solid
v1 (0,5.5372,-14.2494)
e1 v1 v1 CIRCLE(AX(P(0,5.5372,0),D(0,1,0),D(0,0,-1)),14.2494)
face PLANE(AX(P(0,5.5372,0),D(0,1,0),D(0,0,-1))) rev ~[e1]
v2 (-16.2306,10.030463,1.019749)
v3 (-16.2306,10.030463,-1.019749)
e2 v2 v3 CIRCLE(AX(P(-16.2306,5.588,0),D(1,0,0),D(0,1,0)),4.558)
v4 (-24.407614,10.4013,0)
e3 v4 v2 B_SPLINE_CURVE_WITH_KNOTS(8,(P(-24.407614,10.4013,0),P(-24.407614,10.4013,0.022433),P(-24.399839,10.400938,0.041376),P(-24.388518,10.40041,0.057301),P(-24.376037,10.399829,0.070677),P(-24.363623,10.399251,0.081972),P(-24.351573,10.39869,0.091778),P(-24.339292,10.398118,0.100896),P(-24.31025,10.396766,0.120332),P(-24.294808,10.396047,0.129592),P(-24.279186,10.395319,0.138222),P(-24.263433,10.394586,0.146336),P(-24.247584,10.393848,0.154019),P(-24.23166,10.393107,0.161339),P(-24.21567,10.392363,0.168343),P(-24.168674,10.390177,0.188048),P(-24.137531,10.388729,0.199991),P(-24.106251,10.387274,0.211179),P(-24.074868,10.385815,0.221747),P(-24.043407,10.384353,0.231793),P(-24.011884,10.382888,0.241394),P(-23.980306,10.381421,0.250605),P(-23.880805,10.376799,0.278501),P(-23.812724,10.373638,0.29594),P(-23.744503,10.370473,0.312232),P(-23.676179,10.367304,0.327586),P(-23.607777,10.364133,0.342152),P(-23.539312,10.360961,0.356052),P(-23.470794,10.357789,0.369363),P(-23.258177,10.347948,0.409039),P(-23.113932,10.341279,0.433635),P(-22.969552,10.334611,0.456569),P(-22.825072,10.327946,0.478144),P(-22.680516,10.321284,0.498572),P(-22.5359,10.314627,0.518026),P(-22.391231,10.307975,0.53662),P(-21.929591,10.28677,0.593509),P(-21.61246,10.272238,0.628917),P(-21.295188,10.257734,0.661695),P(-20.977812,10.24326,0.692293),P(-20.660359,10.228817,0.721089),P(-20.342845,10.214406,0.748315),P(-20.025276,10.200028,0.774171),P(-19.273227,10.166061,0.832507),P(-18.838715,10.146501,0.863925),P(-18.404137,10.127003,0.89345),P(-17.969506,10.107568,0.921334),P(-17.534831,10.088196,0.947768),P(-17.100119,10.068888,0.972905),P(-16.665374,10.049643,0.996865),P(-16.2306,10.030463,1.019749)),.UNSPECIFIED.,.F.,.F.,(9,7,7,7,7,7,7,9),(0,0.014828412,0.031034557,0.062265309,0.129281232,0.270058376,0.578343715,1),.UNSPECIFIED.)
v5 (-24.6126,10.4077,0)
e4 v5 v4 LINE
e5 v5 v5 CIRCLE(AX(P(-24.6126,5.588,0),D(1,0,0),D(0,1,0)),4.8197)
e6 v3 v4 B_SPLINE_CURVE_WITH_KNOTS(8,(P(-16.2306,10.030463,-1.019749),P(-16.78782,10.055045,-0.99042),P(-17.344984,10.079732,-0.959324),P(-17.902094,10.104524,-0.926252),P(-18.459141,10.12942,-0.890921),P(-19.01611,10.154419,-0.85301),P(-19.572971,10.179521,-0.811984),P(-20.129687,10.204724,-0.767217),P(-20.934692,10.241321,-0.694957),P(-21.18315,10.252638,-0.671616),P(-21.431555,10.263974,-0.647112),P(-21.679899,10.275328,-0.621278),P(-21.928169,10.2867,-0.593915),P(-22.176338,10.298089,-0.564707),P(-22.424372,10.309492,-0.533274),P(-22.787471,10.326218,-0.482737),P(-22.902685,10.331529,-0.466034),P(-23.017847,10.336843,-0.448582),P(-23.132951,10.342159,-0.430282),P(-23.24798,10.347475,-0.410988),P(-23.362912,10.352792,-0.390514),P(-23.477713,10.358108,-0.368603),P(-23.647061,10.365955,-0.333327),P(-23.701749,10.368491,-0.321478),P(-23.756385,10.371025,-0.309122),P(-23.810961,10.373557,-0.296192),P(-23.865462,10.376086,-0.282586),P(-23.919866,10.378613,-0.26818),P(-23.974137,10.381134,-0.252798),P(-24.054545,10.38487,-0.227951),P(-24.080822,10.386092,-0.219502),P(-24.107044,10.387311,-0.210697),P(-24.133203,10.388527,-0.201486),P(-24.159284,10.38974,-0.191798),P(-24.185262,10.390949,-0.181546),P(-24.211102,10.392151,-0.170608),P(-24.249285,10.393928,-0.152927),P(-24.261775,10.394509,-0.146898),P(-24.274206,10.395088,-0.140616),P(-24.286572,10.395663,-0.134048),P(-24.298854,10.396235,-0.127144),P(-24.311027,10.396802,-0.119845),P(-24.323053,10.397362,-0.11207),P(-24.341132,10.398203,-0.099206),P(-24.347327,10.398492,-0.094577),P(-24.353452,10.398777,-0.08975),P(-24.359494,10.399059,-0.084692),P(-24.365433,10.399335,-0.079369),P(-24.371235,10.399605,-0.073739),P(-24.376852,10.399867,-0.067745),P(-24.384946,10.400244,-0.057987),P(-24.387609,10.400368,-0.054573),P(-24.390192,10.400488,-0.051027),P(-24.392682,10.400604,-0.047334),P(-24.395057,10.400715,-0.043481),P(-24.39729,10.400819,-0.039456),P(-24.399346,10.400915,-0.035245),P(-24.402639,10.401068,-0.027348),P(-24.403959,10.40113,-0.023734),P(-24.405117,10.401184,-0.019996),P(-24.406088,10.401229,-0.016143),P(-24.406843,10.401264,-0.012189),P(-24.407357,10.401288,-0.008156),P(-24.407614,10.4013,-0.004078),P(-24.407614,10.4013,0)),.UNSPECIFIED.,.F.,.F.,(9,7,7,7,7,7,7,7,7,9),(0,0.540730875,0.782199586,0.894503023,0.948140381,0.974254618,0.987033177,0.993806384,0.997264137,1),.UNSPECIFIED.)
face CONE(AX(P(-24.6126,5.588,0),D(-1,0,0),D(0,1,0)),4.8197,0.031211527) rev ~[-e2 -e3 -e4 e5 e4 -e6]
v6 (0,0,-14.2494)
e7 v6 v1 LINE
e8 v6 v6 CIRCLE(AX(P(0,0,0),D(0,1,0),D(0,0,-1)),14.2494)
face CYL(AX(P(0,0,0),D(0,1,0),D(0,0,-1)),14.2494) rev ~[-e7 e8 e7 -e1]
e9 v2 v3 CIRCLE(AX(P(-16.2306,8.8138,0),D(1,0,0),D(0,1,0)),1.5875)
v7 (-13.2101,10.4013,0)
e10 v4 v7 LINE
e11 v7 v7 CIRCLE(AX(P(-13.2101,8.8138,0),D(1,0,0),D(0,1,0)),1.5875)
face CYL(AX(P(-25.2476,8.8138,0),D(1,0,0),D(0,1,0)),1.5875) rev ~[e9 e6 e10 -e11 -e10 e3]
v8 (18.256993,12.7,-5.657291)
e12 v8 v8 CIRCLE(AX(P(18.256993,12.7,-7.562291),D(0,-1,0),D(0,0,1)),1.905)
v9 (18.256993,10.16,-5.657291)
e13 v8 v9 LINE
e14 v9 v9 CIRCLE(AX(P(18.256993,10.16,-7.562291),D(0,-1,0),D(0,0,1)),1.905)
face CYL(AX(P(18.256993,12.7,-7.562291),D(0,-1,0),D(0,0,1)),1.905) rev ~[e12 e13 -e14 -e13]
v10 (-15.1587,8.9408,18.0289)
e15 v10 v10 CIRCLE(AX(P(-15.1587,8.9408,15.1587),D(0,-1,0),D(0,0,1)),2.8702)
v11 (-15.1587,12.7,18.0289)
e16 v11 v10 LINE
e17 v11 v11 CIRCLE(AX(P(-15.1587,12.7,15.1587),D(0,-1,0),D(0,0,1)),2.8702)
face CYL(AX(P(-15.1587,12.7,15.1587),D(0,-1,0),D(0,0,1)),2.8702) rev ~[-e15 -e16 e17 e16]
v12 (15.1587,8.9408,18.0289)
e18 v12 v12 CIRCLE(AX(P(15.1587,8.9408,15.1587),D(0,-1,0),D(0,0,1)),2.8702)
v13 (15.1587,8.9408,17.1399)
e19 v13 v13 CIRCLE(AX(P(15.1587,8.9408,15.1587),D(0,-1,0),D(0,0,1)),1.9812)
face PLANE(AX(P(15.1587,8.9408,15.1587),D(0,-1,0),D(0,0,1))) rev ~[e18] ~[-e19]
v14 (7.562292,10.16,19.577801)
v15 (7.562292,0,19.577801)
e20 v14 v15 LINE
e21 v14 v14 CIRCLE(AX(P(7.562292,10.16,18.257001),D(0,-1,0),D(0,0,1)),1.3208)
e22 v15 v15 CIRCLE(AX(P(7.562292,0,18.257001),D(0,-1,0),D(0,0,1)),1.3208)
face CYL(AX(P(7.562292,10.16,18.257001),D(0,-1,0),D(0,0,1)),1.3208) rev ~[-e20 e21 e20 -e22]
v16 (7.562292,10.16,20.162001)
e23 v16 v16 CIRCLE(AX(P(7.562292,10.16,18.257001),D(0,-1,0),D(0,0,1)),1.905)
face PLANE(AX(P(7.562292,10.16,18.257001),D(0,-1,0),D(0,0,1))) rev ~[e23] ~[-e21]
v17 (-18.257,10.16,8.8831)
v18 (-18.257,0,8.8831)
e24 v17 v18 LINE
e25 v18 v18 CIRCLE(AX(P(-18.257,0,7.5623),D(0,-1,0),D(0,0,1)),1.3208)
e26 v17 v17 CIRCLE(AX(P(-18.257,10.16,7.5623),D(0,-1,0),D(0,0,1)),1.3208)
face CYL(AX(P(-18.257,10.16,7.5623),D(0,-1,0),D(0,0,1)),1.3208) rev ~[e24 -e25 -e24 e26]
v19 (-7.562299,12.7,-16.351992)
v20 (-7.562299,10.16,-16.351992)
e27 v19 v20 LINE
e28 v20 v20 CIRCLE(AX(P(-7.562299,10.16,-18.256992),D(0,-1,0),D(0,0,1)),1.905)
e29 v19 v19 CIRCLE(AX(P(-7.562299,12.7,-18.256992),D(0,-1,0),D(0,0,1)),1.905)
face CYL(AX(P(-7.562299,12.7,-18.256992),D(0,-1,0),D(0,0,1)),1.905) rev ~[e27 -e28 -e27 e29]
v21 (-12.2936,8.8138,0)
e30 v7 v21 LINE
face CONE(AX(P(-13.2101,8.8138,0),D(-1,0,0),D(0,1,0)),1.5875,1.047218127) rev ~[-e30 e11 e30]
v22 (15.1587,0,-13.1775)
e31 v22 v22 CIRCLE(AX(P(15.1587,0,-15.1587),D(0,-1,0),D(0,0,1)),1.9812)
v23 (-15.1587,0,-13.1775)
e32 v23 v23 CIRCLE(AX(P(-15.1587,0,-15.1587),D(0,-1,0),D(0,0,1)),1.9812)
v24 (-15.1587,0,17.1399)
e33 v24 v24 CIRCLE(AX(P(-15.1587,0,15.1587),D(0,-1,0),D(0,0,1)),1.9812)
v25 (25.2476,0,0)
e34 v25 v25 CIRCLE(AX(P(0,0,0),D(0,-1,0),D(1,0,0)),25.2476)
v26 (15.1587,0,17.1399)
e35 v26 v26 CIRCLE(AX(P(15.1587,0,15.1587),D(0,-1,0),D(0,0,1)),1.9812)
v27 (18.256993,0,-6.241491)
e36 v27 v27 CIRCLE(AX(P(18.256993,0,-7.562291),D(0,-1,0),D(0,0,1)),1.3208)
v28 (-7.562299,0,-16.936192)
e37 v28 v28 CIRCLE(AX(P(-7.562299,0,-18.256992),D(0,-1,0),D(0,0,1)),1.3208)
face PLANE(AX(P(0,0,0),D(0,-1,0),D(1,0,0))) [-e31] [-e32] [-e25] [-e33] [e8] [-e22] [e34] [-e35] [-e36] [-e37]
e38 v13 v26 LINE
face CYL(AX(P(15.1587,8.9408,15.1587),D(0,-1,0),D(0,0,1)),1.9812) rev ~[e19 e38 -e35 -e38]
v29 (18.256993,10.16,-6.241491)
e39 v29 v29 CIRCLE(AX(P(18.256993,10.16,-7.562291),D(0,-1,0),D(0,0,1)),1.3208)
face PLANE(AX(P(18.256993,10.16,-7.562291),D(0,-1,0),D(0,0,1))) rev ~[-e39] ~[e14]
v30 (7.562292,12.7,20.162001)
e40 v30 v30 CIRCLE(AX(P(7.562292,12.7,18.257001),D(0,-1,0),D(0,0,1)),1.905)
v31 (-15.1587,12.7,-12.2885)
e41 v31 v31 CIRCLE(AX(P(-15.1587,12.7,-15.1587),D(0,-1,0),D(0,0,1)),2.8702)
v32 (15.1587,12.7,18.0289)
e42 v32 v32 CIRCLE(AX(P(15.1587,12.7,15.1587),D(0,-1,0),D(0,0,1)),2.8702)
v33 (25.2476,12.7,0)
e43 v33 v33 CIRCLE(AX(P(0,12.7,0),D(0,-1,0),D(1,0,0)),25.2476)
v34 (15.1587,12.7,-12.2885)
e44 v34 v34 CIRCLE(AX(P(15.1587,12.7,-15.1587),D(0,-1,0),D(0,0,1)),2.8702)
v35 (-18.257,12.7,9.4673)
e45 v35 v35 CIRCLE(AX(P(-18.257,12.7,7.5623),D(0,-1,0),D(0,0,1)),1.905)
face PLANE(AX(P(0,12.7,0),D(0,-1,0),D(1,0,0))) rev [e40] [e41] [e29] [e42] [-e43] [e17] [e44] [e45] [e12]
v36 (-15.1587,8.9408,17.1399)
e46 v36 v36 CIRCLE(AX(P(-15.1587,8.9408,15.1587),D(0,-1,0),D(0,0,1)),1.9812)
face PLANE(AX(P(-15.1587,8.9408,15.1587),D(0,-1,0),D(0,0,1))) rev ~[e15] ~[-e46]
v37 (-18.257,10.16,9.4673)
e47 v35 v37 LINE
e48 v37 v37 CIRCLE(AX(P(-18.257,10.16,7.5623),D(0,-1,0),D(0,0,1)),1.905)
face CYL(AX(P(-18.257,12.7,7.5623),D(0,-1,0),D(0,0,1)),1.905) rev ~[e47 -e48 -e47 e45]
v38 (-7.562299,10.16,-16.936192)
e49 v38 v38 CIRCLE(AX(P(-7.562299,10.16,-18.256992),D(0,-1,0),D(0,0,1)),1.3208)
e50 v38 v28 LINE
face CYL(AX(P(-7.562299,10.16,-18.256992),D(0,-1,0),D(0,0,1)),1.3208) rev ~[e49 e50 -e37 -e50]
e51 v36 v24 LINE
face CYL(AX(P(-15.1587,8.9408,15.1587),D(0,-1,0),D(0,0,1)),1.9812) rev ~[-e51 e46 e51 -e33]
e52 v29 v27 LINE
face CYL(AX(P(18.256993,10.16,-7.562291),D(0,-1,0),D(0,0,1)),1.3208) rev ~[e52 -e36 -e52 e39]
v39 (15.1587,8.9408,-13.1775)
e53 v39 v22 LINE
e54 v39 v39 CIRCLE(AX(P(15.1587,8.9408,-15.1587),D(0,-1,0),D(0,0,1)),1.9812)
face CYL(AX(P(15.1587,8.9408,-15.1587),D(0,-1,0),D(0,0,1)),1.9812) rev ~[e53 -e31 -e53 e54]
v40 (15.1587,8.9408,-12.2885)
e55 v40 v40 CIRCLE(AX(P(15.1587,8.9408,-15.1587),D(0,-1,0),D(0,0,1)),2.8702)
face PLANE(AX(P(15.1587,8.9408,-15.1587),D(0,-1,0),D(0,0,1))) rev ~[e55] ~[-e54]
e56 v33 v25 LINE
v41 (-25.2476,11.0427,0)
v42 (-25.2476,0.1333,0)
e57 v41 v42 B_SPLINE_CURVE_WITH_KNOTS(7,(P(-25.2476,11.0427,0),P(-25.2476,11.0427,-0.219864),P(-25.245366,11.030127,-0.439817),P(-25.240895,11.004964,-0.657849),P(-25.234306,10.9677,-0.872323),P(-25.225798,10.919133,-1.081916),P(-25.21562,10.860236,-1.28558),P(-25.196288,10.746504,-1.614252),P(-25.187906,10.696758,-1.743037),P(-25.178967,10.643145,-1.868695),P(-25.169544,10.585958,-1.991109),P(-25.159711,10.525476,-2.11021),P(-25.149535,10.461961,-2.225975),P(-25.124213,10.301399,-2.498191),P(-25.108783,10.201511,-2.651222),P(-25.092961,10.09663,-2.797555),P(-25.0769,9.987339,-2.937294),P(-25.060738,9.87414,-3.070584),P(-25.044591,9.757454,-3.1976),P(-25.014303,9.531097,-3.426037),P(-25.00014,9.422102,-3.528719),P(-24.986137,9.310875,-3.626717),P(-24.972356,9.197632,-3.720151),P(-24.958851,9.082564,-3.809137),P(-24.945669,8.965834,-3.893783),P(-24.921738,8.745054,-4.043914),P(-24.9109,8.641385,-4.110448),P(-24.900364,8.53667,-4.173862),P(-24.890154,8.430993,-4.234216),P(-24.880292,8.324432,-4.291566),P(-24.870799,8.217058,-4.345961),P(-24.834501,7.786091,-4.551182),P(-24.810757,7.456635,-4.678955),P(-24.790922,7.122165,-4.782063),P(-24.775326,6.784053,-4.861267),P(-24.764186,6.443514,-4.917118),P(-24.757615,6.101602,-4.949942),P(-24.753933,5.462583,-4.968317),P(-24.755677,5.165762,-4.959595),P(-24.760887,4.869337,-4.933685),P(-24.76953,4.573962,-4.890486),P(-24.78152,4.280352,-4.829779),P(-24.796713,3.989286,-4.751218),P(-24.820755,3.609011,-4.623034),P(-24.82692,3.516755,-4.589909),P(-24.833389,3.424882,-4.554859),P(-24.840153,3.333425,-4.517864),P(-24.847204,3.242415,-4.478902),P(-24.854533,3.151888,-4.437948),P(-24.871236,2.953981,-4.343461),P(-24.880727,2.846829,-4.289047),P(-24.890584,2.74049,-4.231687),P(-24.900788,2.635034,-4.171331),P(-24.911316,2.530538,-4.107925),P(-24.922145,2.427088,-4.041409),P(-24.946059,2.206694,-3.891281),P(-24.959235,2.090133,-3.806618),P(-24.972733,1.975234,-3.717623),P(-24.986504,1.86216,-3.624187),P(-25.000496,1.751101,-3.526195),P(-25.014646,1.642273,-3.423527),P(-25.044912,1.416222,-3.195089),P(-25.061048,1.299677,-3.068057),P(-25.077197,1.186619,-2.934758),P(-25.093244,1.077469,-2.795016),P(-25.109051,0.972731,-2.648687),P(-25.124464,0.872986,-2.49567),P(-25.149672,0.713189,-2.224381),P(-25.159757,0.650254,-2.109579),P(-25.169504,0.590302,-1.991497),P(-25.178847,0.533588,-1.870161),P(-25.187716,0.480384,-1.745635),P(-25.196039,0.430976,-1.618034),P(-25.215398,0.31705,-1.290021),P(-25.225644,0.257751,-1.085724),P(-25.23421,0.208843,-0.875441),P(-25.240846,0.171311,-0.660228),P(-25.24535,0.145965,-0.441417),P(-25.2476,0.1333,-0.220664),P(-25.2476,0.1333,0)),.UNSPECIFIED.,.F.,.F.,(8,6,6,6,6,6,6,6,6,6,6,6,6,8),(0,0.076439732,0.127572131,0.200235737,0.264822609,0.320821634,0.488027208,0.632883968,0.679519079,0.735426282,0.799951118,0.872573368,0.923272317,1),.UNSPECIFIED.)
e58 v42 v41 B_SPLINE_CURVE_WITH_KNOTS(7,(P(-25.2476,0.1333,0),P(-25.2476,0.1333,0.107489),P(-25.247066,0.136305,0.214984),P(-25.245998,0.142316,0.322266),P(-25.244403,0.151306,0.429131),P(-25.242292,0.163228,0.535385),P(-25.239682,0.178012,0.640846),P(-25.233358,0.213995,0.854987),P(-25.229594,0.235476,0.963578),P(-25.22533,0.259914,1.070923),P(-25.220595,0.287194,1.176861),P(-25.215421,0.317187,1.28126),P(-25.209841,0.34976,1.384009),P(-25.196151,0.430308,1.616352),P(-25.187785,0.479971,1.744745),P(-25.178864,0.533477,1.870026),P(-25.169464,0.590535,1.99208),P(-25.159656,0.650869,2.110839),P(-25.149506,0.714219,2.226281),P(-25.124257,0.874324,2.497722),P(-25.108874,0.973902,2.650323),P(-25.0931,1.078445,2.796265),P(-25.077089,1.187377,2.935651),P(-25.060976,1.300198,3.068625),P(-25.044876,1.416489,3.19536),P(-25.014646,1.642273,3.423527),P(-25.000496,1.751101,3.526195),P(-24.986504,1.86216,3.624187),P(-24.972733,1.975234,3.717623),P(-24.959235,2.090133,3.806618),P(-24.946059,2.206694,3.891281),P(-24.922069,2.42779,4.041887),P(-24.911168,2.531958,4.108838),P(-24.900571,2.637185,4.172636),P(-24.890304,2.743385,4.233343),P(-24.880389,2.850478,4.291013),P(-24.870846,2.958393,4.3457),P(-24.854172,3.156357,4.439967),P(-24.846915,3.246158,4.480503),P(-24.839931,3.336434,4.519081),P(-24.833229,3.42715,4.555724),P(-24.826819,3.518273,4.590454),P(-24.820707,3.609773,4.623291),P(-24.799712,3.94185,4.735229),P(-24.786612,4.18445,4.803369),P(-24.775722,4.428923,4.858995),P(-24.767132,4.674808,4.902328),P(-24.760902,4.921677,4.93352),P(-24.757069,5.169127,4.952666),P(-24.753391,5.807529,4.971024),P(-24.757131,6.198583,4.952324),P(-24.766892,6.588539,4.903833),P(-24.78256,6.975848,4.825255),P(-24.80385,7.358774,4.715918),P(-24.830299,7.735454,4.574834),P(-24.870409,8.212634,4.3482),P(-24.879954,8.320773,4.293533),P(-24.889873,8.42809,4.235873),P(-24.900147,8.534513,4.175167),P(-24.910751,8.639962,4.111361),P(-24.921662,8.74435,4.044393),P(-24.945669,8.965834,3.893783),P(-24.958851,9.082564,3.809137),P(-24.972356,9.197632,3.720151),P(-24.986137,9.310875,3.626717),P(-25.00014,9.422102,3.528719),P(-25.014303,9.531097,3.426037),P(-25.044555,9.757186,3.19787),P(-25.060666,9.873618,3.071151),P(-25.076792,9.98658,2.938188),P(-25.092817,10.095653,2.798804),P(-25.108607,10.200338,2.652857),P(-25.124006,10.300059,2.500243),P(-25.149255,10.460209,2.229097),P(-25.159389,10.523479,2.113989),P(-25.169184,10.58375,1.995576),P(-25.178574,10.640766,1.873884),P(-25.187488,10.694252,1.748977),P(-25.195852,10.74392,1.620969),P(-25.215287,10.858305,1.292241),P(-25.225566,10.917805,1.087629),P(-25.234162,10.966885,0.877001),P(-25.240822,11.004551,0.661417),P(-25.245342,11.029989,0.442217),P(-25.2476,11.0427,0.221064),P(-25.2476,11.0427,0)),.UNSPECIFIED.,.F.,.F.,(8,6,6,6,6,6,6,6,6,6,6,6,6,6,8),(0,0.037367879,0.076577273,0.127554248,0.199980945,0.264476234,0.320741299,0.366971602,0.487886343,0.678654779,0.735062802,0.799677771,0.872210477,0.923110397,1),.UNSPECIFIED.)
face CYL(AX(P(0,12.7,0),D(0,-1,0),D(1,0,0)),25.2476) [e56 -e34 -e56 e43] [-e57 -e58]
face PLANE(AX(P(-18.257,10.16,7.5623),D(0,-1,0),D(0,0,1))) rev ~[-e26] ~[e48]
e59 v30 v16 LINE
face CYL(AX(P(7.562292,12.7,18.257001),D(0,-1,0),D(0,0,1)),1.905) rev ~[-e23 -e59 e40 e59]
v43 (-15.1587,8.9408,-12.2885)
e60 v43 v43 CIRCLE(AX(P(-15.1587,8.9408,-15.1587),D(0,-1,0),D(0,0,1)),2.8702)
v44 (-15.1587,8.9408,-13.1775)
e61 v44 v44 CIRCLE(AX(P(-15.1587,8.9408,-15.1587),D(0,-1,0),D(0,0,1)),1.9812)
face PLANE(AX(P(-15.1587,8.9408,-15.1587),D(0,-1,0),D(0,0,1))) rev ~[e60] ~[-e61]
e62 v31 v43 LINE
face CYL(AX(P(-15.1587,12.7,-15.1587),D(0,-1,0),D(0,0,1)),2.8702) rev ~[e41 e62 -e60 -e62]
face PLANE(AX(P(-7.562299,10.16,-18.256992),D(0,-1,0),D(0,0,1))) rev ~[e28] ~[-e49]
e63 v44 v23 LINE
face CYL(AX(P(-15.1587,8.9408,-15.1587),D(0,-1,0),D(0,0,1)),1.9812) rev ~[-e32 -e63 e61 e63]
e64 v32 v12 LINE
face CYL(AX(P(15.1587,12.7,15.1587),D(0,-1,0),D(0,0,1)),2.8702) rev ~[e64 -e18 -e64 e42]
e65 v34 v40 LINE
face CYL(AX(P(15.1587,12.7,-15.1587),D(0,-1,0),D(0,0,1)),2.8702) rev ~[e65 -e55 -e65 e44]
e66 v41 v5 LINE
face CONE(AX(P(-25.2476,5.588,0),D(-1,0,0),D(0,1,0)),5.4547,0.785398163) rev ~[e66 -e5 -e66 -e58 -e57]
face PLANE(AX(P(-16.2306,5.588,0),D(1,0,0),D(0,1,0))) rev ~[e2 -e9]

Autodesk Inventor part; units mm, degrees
sketch "Sketch_1" plane through (0, 0, 0) normal (0, 0, 1) x (1, 0, 0)
  line L0 (0, 0) -> (0, 12.7)
  line L1 (0, 12.7) -> (25.2476, 12.7)
  line L2 (25.2476, 12.7) -> (25.2476, 0)
  line L3 (25.2476, 0) -> (0, 0)
  line L4 (0, 0) -> (0, 12.7)
revolve "Revolution1" add sketch "Sketch_1" angle 360 about axis through (0, 0, 0) along (0, -1, 0)
sketch "Sketch_84" plane through (0, 0, 0) normal (0, 0, 1) x (1, 0, 0)
  line L0 (-16.2306, 5.588) -> (-25.2476, 5.588)
  line L1 (-25.2476, 5.588) -> (-25.2476, 11.0427)
  line L2 (-25.2476, 11.0427) -> (-24.6126, 10.4077)
  line L3 (-24.6126, 10.4077) -> (-16.2306, 10.146)
  line L4 (-16.2306, 10.146) -> (-16.2306, 5.588)
  line L5 (-16.2306, 5.588) -> (-25.2476, 5.588)
revolve "Revolution2" cut sketch "Sketch_84" angle 360 about axis through (-16.2306, 5.588, 0) along (1, 0, 0)
thread "Thread1" size "1/8" designation "1/8 - 27 NPT" standard "NPT" full length
sketch "Sketch_85" plane through (0, 0, 0) normal (0, 0, 1) x (1, 0, 0)
  line L0 (-12.2936, 8.8138) -> (-25.2476, 8.8138)
  line L1 (-25.2476, 8.8138) -> (-25.2476, 10.4013)
  line L2 (-25.2476, 10.4013) -> (-13.2101, 10.4013)
  line L3 (-13.2101, 10.4013) -> (-12.2936, 8.8138)
  line L4 (-12.2936, 8.8138) -> (-25.2476, 8.8138)
revolve "Revolution3" cut sketch "Sketch_85" angle 360 about axis through (-12.2936, 8.8138, 0) along (1, 0, 0)
sketch "Sketch4" plane through (0, 12.7, 0) normal (0, 1, 0) x (1, 0, 0)
  point P0 (-15.1587, -15.1587)
hole "Hole1" at (-15.1587, 12.7, 15.1587) direction (0, -1, 0) diameter 3.9624 depth 12.7 counterbore diameter 5.7404 counterbore depth 3.7592
sketch "Sketch5" plane through (0, 12.7, 0) normal (0, 1, 0) x (1, 0, 0)
  point P0 (15.1587, -15.1587)
hole "Hole2" at (15.1587, 12.7, 15.1587) direction (0, -1, 0) diameter 3.9624 depth 12.7 counterbore diameter 5.7404 counterbore depth 3.7592
sketch "Sketch6" plane through (0, 12.7, 0) normal (0, 1, 0) x (1, 0, 0)
  point P0 (15.1587, 15.1587)
hole "Hole3" at (15.1587, 12.7, -15.1587) direction (0, -1, 0) diameter 3.9624 depth 12.7 counterbore diameter 5.7404 counterbore depth 3.7592
sketch "Sketch7" plane through (0, 12.7, 0) normal (0, 1, 0) x (1, 0, 0)
  point P0 (-15.1587, 15.1587)
hole "Hole4" at (-15.1587, 12.7, -15.1587) direction (0, -1, 0) diameter 3.9624 depth 12.7 counterbore diameter 5.7404 counterbore depth 3.7592
sketch "Sketch8" plane through (0, 0, 0) normal (0, -1, 0) x (1, 0, 0)
  point P0 (0, 0)
hole "Hole5" at (0, 0, 0) direction (0, 1, 0) diameter 28.4988 depth 5.5372
sketch "Sketch9" plane through (0, 12.7, 0) normal (0, 1, 0) x (1, 0, 0)
  point P0 (-18.257, -7.5623)
hole "Hole6" at (-18.257, 12.7, 7.5623) direction (0, -1, 0) diameter 2.6416 depth 12.7 counterbore diameter 3.81 counterbore depth 2.54 thread size "6-32 UNC" class "2B" standard "ANSI Unified Screw Threads"
pattern_linear "Rectangular Pattern1" count 2 spacing 27.9466 along (0.3827, 0, -0.9239) count 2 spacing 27.9466 along (0.9239, 0, 0.3827) of "Hole6"
ref_plane "a1_XY" through (0, 12.7, -25.2476) normal (0, 1, 0) x (1, 0, 0)
ref_plane "a1_YZ" through (0, 12.7, -25.2476) normal (1, 0, 0) x (0, 0, -1)
ref_plane "a1_ZX" through (0, 12.7, -25.2476) normal (0, 0, -1) x (0, 1, 0)
ref_plane "a2_XY" through (0, 12.7, 25.2476) normal (0, 1, 0) x (1, 0, 0)
ref_plane "a2_YZ" through (0, 12.7, 25.2476) normal (1, 0, 0) x (0, 0, -1)
ref_plane "a2_ZX" through (0, 12.7, 25.2476) normal (0, 0, -1) x (0, 1, 0)
ref_plane "ar3_XY" through (-19.8292, 5.5372, 8.2135) normal (0, 1, 0) x (1, 0, 0)
ref_plane "ar3_YZ" through (-19.8292, 5.5372, 8.2135) normal (1, 0, 0) x (0, 0, -1)
ref_plane "ar3_ZX" through (-19.8292, 5.5372, 8.2135) normal (0, 0, -1) x (0, 1, 0)
ref_plane "ar4_XY" through (8.2135, 5.5372, 19.8292) normal (0, 1, 0) x (1, 0, 0)
ref_plane "ar4_YZ" through (8.2135, 5.5372, 19.8292) normal (1, 0, 0) x (0, 0, -1)
ref_plane "ar4_ZX" through (8.2135, 5.5372, 19.8292) normal (0, 0, -1) x (0, 1, 0)
ref_plane "ar5_XY" through (19.8292, 5.5372, -8.2135) normal (0, 1, 0) x (1, 0, 0)
ref_plane "ar5_YZ" through (19.8292, 5.5372, -8.2135) normal (1, 0, 0) x (0, 0, -1)
ref_plane "ar5_ZX" through (19.8292, 5.5372, -8.2135) normal (0, 0, -1) x (0, 1, 0)
ref_plane "ar6_XY" through (-8.2135, 5.5372, -19.8292) normal (0, 1, 0) x (1, 0, 0)
ref_plane "ar6_YZ" through (-8.2135, 5.5372, -19.8292) normal (1, 0, 0) x (0, 0, -1)
ref_plane "ar6_ZX" through (-8.2135, 5.5372, -19.8292) normal (0, 0, -1) x (0, 1, 0)
ref_plane "b1_XY" through (0, 12.7, 0) normal (0, 1, 0) x (1, 0, 0)
ref_plane "b1_YZ" through (0, 12.7, 0) normal (1, 0, 0) x (0, 0, -1)
ref_plane "b1_ZX" through (0, 12.7, 0) normal (0, 0, -1) x (0, 1, 0)
ref_plane "c11_XY" through (15.1587, 12.7, 15.1587) normal (0, 1, 0) x (1, 0, 0)
ref_plane "c11_YZ" through (15.1587, 12.7, 15.1587) normal (1, 0, 0) x (0, 0, -1)
ref_plane "c11_ZX" through (15.1587, 12.7, 15.1587) normal (0, 0, -1) x (0, 1, 0)
ref_plane "c22_XY" through (-15.1587, 12.7, -15.1587) normal (0, 1, 0) x (1, 0, 0)
ref_plane "c22_YZ" through (-15.1587, 12.7, -15.1587) normal (1, 0, 0) x (0, 0, -1)
ref_plane "c22_ZX" through (-15.1587, 12.7, -15.1587) normal (0, 0, -1) x (0, 1, 0)
ref_plane "d11_XY" through (-16.5596, 12.7, -13.7578) normal (0, 1, 0) x (1, 0, 0)
ref_plane "d11_YZ" through (-16.5596, 12.7, -13.7578) normal (1, 0, 0) x (0, 0, -1)
ref_plane "d11_ZX" through (-16.5596, 12.7, -13.7578) normal (0, 0, -1) x (0, 1, 0)
ref_plane "d22_XY" through (-13.7578, 12.7, -16.5596) normal (0, 1, 0) x (1, 0, 0)
ref_plane "d22_YZ" through (-13.7578, 12.7, -16.5596) normal (1, 0, 0) x (0, 0, -1)
ref_plane "d22_ZX" through (-13.7578, 12.7, -16.5596) normal (0, 0, -1) x (0, 1, 0)
ref_plane "j_XY" through (0, 0, 0) normal (0, 1, 0) x (1, 0, 0)
ref_plane "j_YZ" through (0, 0, 0) normal (1, 0, 0) x (0, 0, -1)
ref_plane "j_ZX" through (0, 0, 0) normal (0, 0, -1) x (0, 1, 0)
ref_plane "k1_XY" through (-25.2476, 5.588, 0) normal (0, 0, 1) x (1, 0, 0)
ref_plane "k1_YZ" through (-25.2476, 5.588, 0) normal (1, 0, 0) x (0, 1, 0)
ref_plane "k1_ZX" through (-25.2476, 5.588, 0) normal (0, 1, 0) x (0, 0, 1)
ref_plane "k2_XY" through (-25.2476, 12.7, 0) normal (0, 0, 1) x (1, 0, 0)
ref_plane "k2_YZ" through (-25.2476, 12.7, 0) normal (1, 0, 0) x (0, 1, 0)
ref_plane "k2_ZX" through (-25.2476, 12.7, 0) normal (0, 1, 0) x (0, 0, 1)
ref_plane "po1_XY" through (19.7612, 0, 0) normal (0, 1, 0) x (1, 0, 0)
ref_plane "po1_YZ" through (19.7612, 0, 0) normal (1, 0, 0) x (0, 0, -1)
ref_plane "po1_ZX" through (19.7612, 0, 0) normal (0, 0, -1) x (0, 1, 0)
ref_plane "po2_XY" through (-8.3514, 0, -17.9097) normal (0, 1, 0) x (1, 0, 0)
ref_plane "po2_YZ" through (-8.3514, 0, -17.9097) normal (1, 0, 0) x (0, 0, -1)
ref_plane "po2_ZX" through (-8.3514, 0, -17.9097) normal (0, 0, -1) x (0, 1, 0)
ref_plane "po3_XY" through (-8.3514, 0, 17.9097) normal (0, 1, 0) x (1, 0, 0)
ref_plane "po3_YZ" through (-8.3514, 0, 17.9097) normal (1, 0, 0) x (0, 0, -1)
ref_plane "po3_ZX" through (-8.3514, 0, 17.9097) normal (0, 0, -1) x (0, 1, 0)
ref_plane "r7_XY" through (-2.413, 12.7, -21.4376) normal (0, 1, 0) x (1, 0, 0)
ref_plane "r7_YZ" through (-2.413, 12.7, -21.4376) normal (1, 0, 0) x (0, 0, -1)
ref_plane "r7_ZX" through (-2.413, 12.7, -21.4376) normal (0, 0, -1) x (0, 1, 0)
ref_plane "r71_XY" through (0, 12.7, 21.4376) normal (0, 1, 0) x (1, 0, 0)
ref_plane "r71_YZ" through (0, 12.7, 21.4376) normal (1, 0, 0) x (0, 0, -1)
ref_plane "r71_ZX" through (0, 12.7, 21.4376) normal (0, 0, -1) x (0, 1, 0)
ref_plane "r72_XY" through (2.413, 12.7, -21.4376) normal (0, 1, 0) x (1, 0, 0)
ref_plane "r72_YZ" through (2.413, 12.7, -21.4376) normal (1, 0, 0) x (0, 0, -1)
ref_plane "r72_ZX" through (2.413, 12.7, -21.4376) normal (0, 0, -1) x (0, 1, 0)
ref_plane "r73_XY" through (0, 12.7, -21.4376) normal (0, 1, 0) x (1, 0, 0)
ref_plane "r73_YZ" through (0, 12.7, -21.4376) normal (1, 0, 0) x (0, 0, -1)
ref_plane "r73_ZX" through (0, 12.7, -21.4376) normal (0, 0, -1) x (0, 1, 0)
ref_plane "rg_XY" through (0, 12.7, 0) normal (0, 1, 0) x (1, 0, 0)
ref_plane "rg_YZ" through (0, 12.7, 0) normal (1, 0, 0) x (0, 0, -1)
ref_plane "rg_ZX" through (0, 12.7, 0) normal (0, 0, -1) x (0, 1, 0)
ref_plane "rh_XY" through (0, 12.7, 0) normal (0, 1, 0) x (1, 0, 0)
ref_plane "rh_YZ" through (0, 12.7, 0) normal (1, 0, 0) x (0, 0, -1)
ref_plane "rh_ZX" through (0, 12.7, 0) normal (0, 0, -1) x (0, 1, 0)
ref_plane "rs_1_XY" through (-15.1587, 15.2908, -15.1587) normal (0, 1, 0) x (1, 0, 0)
ref_plane "rs_1_YZ" through (-15.1587, 15.2908, -15.1587) normal (1, 0, 0) x (0, 0, -1)
ref_plane "rs_1_ZX" through (-15.1587, 15.2908, -15.1587) normal (0, 0, -1) x (0, 1, 0)
ref_plane "rs_2_XY" through (-15.1587, 15.2908, 15.1587) normal (0, 1, 0) x (1, 0, 0)
ref_plane "rs_2_YZ" through (-15.1587, 15.2908, 15.1587) normal (1, 0, 0) x (0, 0, -1)
ref_plane "rs_2_ZX" through (-15.1587, 15.2908, 15.1587) normal (0, 0, -1) x (0, 1, 0)
ref_plane "rs_3_XY" through (15.1587, 15.2908, 15.1587) normal (0, 1, 0) x (1, 0, 0)
ref_plane "rs_3_YZ" through (15.1587, 15.2908, 15.1587) normal (1, 0, 0) x (0, 0, -1)
ref_plane "rs_3_ZX" through (15.1587, 15.2908, 15.1587) normal (0, 0, -1) x (0, 1, 0)
ref_plane "rs_4_XY" through (15.1587, 15.2908, -15.1587) normal (0, 1, 0) x (1, 0, 0)
ref_plane "rs_4_YZ" through (15.1587, 15.2908, -15.1587) normal (1, 0, 0) x (0, 0, -1)
ref_plane "rs_4_ZX" through (15.1587, 15.2908, -15.1587) normal (0, 0, -1) x (0, 1, 0)
ref_plane "sc1_XY" through (19.7612, 8.128, 0) normal (0, 1, 0) x (1, 0, 0)
ref_plane "sc1_YZ" through (19.7612, 8.128, 0) normal (1, 0, 0) x (0, 0, -1)
ref_plane "sc1_ZX" through (19.7612, 8.128, 0) normal (0, 0, -1) x (0, 1, 0)
ref_plane "sc2_XY" through (-8.3514, 8.128, -17.9097) normal (0, 1, 0) x (1, 0, 0)
ref_plane "sc2_YZ" through (-8.3514, 8.128, -17.9097) normal (1, 0, 0) x (0, 0, -1)
ref_plane "sc2_ZX" through (-8.3514, 8.128, -17.9097) normal (0, 0, -1) x (0, 1, 0)
ref_plane "sc3_XY" through (-8.3514, 8.128, 17.9097) normal (0, 1, 0) x (1, 0, 0)
ref_plane "sc3_YZ" through (-8.3514, 8.128, 17.9097) normal (1, 0, 0) x (0, 0, -1)
ref_plane "sc3_ZX" through (-8.3514, 8.128, 17.9097) normal (0, 0, -1) x (0, 1, 0)
ref_plane "to_dummy_XY" through (0, 12.7, 0) normal (0, 1, 0) x (1, 0, 0)
ref_plane "to_dummy_YZ" through (0, 12.7, 0) normal (1, 0, 0) x (0, 0, -1)
ref_plane "to_dummy_ZX" through (0, 12.7, 0) normal (0, 0, -1) x (0, 1, 0)
ref_plane "to_nut_XY" through (0, 16.002, 0) normal (0, 1, 0) x (1, 0, 0)
ref_plane "to_nut_YZ" through (0, 16.002, 0) normal (1, 0, 0) x (0, 0, -1)
ref_plane "to_nut_ZX" through (0, 16.002, 0) normal (0, 0, -1) x (0, 1, 0)
ref_plane "to_rod_XY" through (0, 12.7, 0) normal (0, 1, 0) x (1, 0, 0)
ref_plane "to_rod_YZ" through (0, 12.7, 0) normal (1, 0, 0) x (0, 0, -1)
ref_plane "to_rod_ZX" through (0, 12.7, 0) normal (0, 0, -1) x (0, 1, 0)
ref_plane "to_tube_XY" through (0, 5.5372, 0) normal (0, 1, 0) x (1, 0, 0)
ref_plane "to_tube_YZ" through (0, 5.5372, 0) normal (1, 0, 0) x (0, 0, -1)
ref_plane "to_tube_ZX" through (0, 5.5372, 0) normal (0, 0, -1) x (0, 1, 0)
ref_plane "to_wiper_XY" through (0, 12.7, 0) normal (0, 1, 0) x (1, 0, 0)
ref_plane "to_wiper_YZ" through (0, 12.7, 0) normal (1, 0, 0) x (0, 0, -1)
ref_plane "to_wiper_ZX" through (0, 12.7, 0) normal (0, 0, -1) x (0, 1, 0)
ref_plane "track1_XY" through (-13.0556, 0, 0) normal (0, 1, 0) x (1, 0, 0)
ref_plane "track1_YZ" through (-13.0556, 0, 0) normal (1, 0, 0) x (0, 0, -1)
ref_plane "track1_ZX" through (-13.0556, 0, 0) normal (0, 0, -1) x (0, 1, 0)
ref_plane "track2_XY" through (0, 0, -13.0556) normal (0, 1, 0) x (1, 0, 0)
ref_plane "track2_YZ" through (0, 0, -13.0556) normal (1, 0, 0) x (0, 0, -1)
ref_plane "track2_ZX" through (0, 0, -13.0556) normal (0, 0, -1) x (0, 1, 0)
ref_plane "track3_XY" through (13.0556, 0, 0) normal (0, 1, 0) x (1, 0, 0)
ref_plane "track3_YZ" through (13.0556, 0, 0) normal (1, 0, 0) x (0, 0, -1)
ref_plane "track3_ZX" through (13.0556, 0, 0) normal (0, 0, -1) x (0, 1, 0)
ref_plane "track4_XY" through (0, 0, 13.0556) normal (0, 1, 0) x (1, 0, 0)
ref_plane "track4_YZ" through (0, 0, 13.0556) normal (1, 0, 0) x (0, 0, -1)
ref_plane "track4_ZX" through (0, 0, 13.0556) normal (0, 0, -1) x (0, 1, 0)
properties part number "09-2-0.125-FO1_BM_heads_left-bif"
